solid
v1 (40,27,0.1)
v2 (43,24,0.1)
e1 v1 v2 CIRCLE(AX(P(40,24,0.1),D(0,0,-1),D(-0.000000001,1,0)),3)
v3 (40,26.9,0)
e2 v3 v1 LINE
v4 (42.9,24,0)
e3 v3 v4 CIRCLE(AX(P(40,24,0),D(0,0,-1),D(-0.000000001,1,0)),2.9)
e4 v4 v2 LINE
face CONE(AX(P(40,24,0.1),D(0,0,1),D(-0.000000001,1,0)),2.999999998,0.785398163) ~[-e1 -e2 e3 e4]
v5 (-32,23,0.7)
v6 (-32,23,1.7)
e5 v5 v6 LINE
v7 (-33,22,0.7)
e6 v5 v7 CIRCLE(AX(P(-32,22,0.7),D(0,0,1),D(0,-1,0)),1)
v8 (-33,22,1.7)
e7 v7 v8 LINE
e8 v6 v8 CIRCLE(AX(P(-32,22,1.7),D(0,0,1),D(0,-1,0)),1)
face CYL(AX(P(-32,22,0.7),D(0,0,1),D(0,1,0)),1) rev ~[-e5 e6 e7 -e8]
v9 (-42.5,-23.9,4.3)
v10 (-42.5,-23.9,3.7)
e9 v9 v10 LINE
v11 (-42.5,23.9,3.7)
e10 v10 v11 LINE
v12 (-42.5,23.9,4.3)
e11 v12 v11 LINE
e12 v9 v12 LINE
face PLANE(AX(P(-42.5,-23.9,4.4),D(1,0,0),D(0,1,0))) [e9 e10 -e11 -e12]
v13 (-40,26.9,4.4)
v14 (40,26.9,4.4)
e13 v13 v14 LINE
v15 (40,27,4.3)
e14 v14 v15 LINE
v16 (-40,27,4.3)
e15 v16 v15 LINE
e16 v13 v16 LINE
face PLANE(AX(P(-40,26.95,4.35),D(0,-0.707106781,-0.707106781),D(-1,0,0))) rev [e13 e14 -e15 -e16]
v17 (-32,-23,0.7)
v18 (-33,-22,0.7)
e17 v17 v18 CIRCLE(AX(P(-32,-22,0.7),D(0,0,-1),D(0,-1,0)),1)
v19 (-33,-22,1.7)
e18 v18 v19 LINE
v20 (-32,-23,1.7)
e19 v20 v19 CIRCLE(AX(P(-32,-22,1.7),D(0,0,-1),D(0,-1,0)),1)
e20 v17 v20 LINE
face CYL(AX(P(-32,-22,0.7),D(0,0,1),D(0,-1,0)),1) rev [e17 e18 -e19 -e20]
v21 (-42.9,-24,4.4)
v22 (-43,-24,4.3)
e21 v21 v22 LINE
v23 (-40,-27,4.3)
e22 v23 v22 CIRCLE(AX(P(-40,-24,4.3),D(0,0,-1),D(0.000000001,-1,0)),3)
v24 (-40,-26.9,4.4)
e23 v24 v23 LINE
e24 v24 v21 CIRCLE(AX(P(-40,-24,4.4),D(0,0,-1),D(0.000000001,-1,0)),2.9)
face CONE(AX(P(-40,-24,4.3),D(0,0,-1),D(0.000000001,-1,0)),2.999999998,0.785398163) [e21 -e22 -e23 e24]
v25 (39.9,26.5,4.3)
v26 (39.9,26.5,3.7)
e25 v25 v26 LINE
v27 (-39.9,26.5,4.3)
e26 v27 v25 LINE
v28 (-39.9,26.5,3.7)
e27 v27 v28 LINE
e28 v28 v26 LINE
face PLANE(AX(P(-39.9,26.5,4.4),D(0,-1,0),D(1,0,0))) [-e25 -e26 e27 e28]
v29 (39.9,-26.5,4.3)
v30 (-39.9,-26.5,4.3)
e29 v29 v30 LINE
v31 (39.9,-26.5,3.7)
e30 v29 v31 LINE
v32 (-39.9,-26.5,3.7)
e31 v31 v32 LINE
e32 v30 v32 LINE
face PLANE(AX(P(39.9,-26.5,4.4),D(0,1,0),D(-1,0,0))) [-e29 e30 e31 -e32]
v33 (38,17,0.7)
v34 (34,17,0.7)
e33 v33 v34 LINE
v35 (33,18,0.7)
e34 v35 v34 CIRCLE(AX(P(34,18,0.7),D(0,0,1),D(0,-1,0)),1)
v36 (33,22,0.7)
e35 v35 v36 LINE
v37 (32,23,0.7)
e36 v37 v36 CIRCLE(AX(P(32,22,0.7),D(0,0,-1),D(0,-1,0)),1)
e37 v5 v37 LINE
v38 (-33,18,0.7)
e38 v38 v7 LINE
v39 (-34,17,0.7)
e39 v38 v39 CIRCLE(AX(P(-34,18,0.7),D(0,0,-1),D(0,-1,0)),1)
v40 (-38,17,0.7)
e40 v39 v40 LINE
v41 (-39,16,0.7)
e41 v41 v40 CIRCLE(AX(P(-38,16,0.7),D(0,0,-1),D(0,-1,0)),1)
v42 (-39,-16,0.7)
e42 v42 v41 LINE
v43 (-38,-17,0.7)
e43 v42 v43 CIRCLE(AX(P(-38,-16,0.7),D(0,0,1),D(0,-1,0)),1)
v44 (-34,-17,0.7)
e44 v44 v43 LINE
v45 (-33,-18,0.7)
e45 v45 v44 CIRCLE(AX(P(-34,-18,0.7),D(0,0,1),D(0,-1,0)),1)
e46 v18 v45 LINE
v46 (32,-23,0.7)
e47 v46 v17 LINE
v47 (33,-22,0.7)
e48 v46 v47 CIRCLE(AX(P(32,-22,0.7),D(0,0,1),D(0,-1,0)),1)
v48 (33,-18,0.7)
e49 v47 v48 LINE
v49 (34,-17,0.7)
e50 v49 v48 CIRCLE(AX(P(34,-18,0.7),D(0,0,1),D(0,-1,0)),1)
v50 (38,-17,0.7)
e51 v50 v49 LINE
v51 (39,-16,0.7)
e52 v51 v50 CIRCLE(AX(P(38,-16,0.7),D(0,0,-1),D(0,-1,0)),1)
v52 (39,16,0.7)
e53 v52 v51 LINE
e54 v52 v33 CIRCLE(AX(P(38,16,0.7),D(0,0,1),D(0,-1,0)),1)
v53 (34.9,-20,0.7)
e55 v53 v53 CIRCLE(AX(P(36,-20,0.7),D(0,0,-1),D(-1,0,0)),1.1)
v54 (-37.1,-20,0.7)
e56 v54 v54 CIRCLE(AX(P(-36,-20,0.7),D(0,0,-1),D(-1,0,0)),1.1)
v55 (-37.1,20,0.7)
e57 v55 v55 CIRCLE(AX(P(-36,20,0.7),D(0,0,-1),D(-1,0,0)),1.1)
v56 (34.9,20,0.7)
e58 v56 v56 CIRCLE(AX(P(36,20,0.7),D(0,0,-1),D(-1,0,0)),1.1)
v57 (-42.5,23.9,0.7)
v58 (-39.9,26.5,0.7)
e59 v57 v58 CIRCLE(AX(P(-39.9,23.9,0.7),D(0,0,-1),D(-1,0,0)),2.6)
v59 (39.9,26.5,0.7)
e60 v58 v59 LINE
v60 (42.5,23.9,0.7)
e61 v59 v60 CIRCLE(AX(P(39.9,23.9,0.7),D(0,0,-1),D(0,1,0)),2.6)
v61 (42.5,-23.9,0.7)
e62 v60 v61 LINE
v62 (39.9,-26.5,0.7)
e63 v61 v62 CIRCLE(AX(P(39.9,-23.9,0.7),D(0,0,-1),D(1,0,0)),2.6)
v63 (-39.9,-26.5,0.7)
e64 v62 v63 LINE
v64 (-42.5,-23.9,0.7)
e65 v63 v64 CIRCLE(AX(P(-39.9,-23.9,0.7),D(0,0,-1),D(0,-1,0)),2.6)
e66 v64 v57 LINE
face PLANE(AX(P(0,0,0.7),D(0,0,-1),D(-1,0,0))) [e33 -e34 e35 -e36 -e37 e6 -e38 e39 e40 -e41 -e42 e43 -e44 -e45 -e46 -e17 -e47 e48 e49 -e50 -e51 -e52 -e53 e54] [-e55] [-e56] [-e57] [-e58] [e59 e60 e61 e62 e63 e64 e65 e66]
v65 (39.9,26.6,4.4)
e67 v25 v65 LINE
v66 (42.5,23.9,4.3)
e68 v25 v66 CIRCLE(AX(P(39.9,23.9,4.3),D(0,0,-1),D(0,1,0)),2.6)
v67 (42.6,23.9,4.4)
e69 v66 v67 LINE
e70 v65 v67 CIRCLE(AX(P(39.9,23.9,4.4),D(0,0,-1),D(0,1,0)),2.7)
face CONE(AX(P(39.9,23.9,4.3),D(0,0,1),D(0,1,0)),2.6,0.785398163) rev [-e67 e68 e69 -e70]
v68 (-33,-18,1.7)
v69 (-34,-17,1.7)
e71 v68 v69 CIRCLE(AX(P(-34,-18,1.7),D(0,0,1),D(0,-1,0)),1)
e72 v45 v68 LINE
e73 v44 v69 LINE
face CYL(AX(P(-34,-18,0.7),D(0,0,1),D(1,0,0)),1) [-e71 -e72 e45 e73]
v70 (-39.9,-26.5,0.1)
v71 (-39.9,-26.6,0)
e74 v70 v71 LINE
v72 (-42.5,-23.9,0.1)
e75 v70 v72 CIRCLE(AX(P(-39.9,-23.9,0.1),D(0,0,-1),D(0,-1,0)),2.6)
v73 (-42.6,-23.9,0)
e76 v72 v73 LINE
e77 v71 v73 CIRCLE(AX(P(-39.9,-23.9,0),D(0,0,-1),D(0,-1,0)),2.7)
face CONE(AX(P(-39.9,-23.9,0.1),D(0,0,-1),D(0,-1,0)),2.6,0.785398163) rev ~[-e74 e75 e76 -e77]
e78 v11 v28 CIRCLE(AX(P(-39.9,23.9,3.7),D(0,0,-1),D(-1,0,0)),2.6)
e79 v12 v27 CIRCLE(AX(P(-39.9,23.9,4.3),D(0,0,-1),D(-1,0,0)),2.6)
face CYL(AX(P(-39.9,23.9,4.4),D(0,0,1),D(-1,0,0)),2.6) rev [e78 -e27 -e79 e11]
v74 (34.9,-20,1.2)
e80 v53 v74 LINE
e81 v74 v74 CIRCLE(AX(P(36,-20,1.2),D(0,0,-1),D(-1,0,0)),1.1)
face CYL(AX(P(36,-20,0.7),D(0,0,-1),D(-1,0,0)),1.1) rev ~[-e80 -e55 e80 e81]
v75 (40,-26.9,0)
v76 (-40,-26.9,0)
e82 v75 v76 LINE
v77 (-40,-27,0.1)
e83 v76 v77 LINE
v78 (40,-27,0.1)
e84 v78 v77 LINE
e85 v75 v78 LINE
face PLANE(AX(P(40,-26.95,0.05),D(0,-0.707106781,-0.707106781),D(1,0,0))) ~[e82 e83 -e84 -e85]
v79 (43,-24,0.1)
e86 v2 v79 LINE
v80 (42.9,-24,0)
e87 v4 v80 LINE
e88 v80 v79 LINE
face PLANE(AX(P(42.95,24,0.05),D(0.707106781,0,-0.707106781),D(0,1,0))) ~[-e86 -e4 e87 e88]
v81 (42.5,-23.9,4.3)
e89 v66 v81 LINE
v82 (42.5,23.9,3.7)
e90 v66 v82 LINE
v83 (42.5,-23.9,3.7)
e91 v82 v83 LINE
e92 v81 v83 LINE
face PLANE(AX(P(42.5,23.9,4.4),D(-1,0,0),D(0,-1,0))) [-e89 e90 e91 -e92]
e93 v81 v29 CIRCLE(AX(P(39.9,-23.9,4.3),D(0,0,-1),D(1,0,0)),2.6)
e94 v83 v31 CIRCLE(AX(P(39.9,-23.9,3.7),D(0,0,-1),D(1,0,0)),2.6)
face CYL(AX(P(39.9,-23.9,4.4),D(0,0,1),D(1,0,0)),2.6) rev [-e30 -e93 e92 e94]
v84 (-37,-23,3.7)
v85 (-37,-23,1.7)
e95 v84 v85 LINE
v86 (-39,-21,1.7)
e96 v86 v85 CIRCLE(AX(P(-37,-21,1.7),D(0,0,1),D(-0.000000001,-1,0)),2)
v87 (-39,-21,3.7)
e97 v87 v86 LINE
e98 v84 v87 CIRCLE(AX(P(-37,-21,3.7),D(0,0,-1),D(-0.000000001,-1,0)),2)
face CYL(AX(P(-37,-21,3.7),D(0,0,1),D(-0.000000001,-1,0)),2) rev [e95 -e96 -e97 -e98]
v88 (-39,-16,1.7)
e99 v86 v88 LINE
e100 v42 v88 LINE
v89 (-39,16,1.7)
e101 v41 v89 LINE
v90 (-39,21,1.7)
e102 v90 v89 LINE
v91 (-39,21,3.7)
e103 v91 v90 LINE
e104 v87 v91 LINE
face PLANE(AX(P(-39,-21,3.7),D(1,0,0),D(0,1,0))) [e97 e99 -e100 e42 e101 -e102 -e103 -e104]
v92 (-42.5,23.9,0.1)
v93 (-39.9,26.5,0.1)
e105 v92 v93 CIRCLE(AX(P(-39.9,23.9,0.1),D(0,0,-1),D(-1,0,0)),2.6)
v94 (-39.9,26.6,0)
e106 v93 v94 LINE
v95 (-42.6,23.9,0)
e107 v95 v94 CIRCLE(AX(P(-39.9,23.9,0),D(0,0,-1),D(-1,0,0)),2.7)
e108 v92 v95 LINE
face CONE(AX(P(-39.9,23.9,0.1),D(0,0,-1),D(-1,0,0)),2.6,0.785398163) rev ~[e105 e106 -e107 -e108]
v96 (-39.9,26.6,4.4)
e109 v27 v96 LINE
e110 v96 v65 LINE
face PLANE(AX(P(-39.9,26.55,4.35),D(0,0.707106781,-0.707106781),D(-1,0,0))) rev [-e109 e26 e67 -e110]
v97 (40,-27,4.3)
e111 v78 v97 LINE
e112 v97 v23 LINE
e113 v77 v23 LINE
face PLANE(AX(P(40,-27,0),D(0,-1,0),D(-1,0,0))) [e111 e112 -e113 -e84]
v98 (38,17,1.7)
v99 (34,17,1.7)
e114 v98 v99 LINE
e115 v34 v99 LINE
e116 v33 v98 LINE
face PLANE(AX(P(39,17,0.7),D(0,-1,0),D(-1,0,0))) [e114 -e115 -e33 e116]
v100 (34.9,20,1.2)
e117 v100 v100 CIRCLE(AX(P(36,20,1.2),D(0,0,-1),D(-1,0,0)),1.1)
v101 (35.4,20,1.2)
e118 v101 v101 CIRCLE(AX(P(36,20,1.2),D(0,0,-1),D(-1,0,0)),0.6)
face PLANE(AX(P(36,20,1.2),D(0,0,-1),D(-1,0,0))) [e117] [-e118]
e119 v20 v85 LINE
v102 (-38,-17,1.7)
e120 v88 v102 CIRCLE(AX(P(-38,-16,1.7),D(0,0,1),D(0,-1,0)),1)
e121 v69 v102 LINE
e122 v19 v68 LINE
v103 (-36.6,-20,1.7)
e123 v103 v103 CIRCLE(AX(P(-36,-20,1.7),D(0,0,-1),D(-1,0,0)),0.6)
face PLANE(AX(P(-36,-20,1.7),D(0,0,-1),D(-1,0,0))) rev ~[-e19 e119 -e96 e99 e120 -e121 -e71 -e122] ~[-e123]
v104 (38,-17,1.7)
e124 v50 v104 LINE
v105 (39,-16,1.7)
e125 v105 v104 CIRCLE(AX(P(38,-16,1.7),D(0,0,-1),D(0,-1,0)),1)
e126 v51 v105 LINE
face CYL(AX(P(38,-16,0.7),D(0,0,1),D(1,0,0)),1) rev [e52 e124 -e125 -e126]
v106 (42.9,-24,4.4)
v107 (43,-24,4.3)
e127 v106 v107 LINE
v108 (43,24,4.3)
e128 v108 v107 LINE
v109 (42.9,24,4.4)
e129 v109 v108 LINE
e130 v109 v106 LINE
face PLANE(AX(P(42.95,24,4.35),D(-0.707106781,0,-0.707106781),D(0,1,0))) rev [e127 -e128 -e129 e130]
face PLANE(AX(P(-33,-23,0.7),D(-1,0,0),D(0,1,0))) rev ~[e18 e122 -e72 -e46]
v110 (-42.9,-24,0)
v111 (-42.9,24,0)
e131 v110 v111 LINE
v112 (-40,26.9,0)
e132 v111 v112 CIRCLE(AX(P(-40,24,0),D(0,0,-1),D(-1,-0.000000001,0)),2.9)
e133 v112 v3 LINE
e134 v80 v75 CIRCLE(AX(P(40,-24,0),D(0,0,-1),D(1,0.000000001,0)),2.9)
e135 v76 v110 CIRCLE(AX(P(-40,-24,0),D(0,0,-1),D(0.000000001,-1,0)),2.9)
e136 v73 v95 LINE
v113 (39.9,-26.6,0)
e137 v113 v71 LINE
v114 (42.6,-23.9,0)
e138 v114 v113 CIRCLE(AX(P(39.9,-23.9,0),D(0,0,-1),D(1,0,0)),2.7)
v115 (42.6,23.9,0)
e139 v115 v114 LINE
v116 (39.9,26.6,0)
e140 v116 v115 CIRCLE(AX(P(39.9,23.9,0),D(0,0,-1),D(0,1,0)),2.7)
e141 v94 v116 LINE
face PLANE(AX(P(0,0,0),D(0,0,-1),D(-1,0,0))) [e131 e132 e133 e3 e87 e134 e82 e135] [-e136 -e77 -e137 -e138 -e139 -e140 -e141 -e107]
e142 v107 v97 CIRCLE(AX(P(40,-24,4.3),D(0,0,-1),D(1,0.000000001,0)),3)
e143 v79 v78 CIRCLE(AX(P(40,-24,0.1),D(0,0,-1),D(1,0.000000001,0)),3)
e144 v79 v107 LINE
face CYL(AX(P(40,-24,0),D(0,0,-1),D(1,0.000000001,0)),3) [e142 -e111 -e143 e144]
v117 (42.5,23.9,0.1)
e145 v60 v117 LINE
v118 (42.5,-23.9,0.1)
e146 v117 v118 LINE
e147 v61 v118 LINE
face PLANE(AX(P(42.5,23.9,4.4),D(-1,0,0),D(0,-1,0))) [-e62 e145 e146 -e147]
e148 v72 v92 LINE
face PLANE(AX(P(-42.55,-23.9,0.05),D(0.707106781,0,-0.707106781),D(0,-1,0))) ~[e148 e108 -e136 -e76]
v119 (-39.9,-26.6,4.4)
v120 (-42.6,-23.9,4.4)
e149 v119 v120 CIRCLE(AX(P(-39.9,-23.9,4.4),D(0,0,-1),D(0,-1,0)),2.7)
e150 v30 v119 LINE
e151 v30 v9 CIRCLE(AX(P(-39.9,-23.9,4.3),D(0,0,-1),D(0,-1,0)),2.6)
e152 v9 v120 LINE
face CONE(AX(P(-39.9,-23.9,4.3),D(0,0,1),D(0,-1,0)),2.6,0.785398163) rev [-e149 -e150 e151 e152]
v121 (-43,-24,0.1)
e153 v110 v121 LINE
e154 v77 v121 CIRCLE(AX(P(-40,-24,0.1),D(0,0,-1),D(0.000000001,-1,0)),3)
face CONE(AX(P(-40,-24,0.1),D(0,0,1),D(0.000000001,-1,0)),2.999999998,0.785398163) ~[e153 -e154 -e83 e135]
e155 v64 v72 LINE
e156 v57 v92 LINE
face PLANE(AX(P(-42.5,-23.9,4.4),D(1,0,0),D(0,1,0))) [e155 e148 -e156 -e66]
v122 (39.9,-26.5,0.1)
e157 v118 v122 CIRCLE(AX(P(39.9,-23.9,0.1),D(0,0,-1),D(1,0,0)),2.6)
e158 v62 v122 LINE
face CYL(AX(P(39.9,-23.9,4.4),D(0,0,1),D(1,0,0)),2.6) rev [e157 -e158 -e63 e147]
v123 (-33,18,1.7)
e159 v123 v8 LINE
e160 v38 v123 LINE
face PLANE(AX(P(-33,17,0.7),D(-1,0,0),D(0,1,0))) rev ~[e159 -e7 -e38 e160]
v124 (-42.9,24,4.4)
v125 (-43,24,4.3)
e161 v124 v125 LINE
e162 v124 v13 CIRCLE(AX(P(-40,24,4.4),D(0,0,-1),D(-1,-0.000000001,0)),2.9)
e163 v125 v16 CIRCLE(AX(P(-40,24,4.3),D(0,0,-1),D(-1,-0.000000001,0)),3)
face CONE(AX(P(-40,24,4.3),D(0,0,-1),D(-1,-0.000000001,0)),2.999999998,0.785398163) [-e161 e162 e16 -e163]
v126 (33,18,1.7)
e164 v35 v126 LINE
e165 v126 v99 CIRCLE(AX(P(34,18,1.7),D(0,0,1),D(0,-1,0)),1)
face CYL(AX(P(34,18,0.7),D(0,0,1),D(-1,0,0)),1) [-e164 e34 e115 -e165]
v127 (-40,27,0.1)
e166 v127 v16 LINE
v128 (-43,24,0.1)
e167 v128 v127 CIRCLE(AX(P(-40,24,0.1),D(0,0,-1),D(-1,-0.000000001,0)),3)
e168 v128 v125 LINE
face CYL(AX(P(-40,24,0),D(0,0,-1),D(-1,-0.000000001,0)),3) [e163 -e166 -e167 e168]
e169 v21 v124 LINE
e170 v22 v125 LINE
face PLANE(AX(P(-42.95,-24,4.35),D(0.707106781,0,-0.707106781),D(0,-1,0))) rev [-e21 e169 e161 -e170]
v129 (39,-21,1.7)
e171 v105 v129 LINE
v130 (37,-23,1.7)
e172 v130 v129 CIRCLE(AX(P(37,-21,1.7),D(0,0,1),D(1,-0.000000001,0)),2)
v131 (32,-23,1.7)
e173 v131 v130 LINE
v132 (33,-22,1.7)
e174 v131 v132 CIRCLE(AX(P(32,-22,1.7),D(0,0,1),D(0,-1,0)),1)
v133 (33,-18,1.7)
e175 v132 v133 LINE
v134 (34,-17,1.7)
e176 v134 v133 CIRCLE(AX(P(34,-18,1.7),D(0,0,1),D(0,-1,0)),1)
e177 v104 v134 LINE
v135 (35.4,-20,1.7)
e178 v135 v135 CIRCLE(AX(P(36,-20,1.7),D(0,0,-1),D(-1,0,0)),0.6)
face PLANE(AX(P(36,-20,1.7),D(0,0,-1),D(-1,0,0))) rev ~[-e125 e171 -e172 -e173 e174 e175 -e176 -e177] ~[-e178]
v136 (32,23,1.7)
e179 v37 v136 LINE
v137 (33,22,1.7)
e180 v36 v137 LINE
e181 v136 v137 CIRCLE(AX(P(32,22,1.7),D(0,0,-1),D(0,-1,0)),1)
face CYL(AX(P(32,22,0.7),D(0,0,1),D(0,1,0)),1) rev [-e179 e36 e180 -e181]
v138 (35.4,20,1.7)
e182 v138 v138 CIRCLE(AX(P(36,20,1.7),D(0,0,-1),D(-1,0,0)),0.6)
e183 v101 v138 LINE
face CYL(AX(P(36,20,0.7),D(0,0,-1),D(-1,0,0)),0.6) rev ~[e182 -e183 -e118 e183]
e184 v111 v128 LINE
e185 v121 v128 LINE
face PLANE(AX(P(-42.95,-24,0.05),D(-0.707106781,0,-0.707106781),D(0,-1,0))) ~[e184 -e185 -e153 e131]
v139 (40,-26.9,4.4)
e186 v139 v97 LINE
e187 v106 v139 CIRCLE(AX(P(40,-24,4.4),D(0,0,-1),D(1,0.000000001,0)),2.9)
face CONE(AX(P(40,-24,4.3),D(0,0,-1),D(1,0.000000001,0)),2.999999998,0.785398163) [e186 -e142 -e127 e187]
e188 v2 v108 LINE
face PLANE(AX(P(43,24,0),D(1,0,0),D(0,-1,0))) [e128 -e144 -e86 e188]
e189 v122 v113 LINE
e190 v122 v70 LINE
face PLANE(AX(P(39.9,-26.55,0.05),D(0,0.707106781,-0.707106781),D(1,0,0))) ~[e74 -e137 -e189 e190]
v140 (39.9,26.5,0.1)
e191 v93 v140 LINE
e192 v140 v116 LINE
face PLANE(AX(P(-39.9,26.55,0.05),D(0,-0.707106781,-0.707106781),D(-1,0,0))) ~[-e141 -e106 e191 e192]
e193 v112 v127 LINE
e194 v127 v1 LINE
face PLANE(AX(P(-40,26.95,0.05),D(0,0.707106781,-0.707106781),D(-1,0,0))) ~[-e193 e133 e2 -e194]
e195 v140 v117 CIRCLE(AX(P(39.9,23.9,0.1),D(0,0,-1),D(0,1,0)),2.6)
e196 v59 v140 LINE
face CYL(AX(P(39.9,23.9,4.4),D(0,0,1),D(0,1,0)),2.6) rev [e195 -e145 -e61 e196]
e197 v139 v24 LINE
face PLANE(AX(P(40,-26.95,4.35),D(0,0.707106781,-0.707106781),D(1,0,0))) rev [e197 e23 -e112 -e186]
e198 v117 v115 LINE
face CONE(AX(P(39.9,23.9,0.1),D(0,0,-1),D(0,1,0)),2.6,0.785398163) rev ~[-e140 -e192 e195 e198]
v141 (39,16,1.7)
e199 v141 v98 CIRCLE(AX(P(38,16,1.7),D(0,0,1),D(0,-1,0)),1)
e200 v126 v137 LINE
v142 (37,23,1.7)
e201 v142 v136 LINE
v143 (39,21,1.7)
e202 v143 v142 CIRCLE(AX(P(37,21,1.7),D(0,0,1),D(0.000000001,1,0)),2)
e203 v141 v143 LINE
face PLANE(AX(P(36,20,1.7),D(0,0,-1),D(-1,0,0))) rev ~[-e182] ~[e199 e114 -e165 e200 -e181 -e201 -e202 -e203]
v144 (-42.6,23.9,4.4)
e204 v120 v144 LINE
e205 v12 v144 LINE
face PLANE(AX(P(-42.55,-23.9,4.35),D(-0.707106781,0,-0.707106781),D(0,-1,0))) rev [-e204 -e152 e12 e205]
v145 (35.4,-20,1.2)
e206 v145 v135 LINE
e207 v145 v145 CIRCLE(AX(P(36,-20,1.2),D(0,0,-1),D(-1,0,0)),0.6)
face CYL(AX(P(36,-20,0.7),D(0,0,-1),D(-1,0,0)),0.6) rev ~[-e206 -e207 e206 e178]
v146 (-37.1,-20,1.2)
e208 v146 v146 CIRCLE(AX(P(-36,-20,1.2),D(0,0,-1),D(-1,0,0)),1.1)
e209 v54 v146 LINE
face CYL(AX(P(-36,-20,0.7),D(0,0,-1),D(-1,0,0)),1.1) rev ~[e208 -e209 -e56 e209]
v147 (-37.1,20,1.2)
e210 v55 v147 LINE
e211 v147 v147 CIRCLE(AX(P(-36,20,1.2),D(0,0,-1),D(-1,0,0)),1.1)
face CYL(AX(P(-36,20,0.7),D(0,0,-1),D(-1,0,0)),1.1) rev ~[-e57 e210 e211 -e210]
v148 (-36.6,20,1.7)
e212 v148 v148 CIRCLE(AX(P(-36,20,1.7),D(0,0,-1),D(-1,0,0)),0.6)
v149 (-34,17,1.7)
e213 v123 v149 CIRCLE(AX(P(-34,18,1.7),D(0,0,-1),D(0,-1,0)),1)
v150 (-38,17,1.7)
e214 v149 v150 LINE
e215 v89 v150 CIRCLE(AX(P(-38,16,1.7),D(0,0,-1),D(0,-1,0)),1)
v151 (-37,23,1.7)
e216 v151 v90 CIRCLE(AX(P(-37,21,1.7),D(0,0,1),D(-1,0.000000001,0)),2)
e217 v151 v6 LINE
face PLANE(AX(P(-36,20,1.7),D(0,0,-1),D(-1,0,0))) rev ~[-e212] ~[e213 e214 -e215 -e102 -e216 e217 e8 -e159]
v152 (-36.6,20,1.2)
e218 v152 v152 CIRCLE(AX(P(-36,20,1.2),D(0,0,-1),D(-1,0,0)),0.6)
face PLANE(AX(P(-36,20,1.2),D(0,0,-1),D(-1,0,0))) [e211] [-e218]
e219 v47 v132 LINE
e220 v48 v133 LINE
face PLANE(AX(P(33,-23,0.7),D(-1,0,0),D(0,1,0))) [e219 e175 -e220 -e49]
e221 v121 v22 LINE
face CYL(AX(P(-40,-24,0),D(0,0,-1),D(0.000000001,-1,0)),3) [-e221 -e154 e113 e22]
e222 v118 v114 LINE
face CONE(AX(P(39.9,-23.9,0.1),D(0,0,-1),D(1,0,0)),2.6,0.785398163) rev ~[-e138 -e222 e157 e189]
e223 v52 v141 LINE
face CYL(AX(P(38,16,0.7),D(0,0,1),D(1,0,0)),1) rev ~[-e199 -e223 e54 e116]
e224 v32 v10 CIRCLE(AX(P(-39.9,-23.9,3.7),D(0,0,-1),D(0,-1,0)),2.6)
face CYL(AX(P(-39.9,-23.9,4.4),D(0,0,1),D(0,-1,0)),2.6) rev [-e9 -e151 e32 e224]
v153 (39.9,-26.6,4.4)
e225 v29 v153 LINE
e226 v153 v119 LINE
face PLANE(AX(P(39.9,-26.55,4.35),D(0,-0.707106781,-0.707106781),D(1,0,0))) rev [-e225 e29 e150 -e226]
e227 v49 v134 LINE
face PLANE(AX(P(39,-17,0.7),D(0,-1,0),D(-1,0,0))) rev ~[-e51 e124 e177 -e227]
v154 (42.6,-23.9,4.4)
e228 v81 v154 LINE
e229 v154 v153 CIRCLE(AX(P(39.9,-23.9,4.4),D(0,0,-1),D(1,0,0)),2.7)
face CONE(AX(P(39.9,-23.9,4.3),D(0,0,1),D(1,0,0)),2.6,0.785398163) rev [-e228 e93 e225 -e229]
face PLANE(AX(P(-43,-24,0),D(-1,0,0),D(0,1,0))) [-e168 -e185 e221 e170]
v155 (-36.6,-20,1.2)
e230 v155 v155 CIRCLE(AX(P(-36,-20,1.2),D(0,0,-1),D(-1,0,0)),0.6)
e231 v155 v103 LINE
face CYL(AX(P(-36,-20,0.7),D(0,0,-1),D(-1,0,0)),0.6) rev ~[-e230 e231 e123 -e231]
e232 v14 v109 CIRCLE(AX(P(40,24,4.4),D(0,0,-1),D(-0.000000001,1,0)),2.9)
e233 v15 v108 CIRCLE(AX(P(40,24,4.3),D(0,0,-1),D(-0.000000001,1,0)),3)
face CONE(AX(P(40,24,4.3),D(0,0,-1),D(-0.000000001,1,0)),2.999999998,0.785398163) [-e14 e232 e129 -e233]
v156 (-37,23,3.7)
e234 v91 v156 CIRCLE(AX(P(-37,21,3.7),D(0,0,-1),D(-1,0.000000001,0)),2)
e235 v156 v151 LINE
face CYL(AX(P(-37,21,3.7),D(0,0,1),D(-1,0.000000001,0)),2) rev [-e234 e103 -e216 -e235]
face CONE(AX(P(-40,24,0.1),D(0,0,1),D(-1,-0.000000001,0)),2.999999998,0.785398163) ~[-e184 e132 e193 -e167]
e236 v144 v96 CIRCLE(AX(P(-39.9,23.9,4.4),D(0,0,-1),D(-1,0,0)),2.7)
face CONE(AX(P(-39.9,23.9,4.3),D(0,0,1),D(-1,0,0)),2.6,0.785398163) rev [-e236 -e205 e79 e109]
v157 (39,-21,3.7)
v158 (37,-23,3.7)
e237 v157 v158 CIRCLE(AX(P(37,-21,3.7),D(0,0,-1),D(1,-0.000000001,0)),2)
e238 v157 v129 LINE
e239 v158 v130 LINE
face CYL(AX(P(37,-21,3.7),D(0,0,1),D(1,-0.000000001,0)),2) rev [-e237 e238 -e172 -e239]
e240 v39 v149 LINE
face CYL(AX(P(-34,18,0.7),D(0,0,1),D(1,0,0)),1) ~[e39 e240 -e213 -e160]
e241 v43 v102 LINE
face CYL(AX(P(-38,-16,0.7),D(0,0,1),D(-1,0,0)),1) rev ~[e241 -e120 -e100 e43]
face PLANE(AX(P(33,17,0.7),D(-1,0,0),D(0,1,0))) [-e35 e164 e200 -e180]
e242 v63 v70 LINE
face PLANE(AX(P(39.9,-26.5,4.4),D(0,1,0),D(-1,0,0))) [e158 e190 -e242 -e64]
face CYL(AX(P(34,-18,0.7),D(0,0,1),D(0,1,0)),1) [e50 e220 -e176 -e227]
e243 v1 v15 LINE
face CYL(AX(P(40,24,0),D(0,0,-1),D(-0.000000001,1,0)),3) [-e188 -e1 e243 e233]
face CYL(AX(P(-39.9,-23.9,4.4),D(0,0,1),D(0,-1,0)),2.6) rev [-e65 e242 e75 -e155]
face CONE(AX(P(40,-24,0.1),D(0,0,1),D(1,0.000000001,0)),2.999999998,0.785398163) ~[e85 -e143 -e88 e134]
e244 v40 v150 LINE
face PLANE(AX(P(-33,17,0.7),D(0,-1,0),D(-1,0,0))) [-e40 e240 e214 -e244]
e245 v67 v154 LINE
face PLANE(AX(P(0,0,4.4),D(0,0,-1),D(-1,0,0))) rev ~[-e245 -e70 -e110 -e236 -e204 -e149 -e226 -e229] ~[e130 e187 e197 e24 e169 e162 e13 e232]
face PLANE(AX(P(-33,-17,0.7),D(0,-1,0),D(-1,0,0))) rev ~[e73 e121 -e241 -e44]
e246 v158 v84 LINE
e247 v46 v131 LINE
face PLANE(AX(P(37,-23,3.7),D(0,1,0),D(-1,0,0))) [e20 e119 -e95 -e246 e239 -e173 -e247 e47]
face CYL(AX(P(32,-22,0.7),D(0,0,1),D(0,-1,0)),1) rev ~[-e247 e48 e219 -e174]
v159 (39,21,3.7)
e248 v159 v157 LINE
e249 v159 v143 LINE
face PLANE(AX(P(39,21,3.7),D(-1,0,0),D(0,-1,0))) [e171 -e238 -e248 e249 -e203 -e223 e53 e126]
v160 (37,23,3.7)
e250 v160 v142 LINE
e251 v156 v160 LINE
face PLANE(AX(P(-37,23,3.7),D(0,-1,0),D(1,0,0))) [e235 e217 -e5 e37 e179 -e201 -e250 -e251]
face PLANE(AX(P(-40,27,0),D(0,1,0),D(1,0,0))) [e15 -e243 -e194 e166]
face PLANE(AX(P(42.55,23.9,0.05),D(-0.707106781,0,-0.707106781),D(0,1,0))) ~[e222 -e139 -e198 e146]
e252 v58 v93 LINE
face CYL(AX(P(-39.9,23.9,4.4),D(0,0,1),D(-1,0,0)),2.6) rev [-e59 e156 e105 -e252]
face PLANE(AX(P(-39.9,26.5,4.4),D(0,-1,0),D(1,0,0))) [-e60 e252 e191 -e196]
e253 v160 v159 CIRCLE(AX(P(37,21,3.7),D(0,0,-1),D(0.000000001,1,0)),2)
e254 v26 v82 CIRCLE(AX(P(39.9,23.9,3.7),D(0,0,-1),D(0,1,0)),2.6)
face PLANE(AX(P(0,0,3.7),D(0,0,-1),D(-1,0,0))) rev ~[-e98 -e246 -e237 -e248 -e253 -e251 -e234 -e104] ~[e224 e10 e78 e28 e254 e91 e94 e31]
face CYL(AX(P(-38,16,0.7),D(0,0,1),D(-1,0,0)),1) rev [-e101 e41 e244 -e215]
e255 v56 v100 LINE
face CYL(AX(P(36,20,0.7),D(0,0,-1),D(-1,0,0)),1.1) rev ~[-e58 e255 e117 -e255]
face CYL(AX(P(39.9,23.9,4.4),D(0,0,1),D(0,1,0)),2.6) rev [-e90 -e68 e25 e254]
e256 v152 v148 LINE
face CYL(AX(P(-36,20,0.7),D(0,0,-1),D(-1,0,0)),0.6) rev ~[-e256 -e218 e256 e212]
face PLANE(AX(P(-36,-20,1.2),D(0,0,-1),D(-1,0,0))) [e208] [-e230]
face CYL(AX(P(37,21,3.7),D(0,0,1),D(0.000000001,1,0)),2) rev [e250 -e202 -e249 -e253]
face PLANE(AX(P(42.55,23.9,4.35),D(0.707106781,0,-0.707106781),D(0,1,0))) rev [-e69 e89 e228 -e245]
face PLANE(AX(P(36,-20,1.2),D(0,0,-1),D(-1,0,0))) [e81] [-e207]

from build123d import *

# Parameters (mm, degrees)
EXTRUDE_1_DEPTH     = 4.4
CUT_EXTRUDE_1_DEPTH = 4.4
EXTRUDE_START       = -0.7
EXTRUDE_2_DEPTH     = 3
CUT_EXTRUDE_2_DEPTH = 3
SKETCH_7_W          = 6
SKETCH_7_H          = 6
EXTRUDE_4_DEPTH     = 1
FILLET_1_R          = 1
SKETCH_8_R          = 0.6
CUT_EXTRUDE_3_DEPTH = 1
CHAMFER_1_SIZE      = 0.1
SKETCH_9_R          = 1.1
CUT_EXTRUDE_4_DEPTH = 0.5


with BuildPart() as part:
    # Эскиз1 → Бобышка-Вытянуть1 (new body)
    with BuildSketch(Plane.XY):
        with BuildLine():
            Line((-40, 27), (40, 27))
            ThreePointArc((40, 27), (42.121320344, 26.121320344), (43, 24))
            Line((43, 24), (43, -24))
            ThreePointArc((43, -24), (42.121320344, -26.121320344), (40, -27))
            Line((40, -27), (-40, -27))
            ThreePointArc((-40, -27), (-42.121320344, -26.121320344), (-43, -24))
            Line((-43, -24), (-43, 24))
            ThreePointArc((-43, 24), (-42.121320344, 26.121320344), (-40, 27))
        make_face()
    extrude(amount=EXTRUDE_1_DEPTH)

    # Эскиз2 → Вырез-Вытянуть1 (cut)
    with BuildSketch(Plane.XY.offset(4.4)):
        with BuildLine():
            Line((-39.9, 26.5), (39.9, 26.5))
            ThreePointArc((39.9, 26.5), (41.738477631, 25.738477631), (42.5, 23.9))
            Line((42.5, 23.9), (42.5, -23.9))
            ThreePointArc((42.5, -23.9), (41.738477631, -25.738477631), (39.9, -26.5))
            Line((39.9, -26.5), (-39.9, -26.5))
            ThreePointArc((-39.9, -26.5), (-41.738477631, -25.738477631), (-42.5, -23.9))
            Line((-42.5, -23.9), (-42.5, 23.9))
            ThreePointArc((-42.5, 23.9), (-41.738477631, 25.738477631), (-39.9, 26.5))
        make_face()
    extrude(amount=-CUT_EXTRUDE_1_DEPTH, mode=Mode.SUBTRACT)

    # Эскиз4 → Бобышка-Вытянуть2 (add)
    with BuildSketch(Plane.XY.offset(4.4).offset(EXTRUDE_START)):
        with BuildLine():
            Line((-39.9, 26.5), (39.9, 26.5))
            ThreePointArc((39.9, 26.5), (41.738477631, 25.738477631), (42.5, 23.9))
            Line((42.5, 23.9), (42.5, -23.9))
            ThreePointArc((42.5, -23.9), (41.738477631, -25.738477631), (39.9, -26.5))
            Line((39.9, -26.5), (-39.9, -26.5))
            ThreePointArc((-39.9, -26.5), (-41.738477631, -25.738477631), (-42.5, -23.9))
            Line((-42.5, -23.9), (-42.5, 23.9))
            ThreePointArc((-42.5, 23.9), (-41.738477631, 25.738477631), (-39.9, 26.5))
        make_face()
    extrude(amount=-EXTRUDE_2_DEPTH)

    # Эскиз5 → Вырез-Вытянуть2 (cut)
    with BuildSketch(Plane.XY.offset(3.7)):
        with BuildLine():
            Line((-37, 23), (37, 23))
            ThreePointArc((37, 23), (38.414213562, 22.414213562), (39, 21))
            Line((39, 21), (39, -21))
            ThreePointArc((39, -21), (38.414213562, -22.414213562), (37, -23))
            Line((37, -23), (-37, -23))
            ThreePointArc((-37, -23), (-38.414213562, -22.414213562), (-39, -21))
            Line((-39, -21), (-39, 21))
            ThreePointArc((-39, 21), (-38.414213562, 22.414213562), (-37, 23))
        make_face()
    extrude(amount=-CUT_EXTRUDE_2_DEPTH, mode=Mode.SUBTRACT)

    # Эскиз7 → Бобышка-Вытянуть4 (add)
    with BuildSketch(Plane(origin=(0, 0, 0.7), x_dir=(-1, 0, 0), z_dir=(0, 0, -1))):
        with Locations((-36, 20)):
            Rectangle(SKETCH_7_W, SKETCH_7_H)
        with Locations((36, 20)):
            Rectangle(SKETCH_7_W, SKETCH_7_H)
        with Locations((36, -20)):
            Rectangle(SKETCH_7_W, SKETCH_7_H)
        with Locations((-36, -20)):
            Rectangle(SKETCH_7_W, SKETCH_7_H)
    extrude(amount=-EXTRUDE_4_DEPTH)

    # Скругление1
    fillet_1_edges = [part.edges().sort_by_distance(p)[0] for p in [
        (39, 17, 1.2),
        (33, 23, 1.2),
        (33, 17, 1.2),
        (-39, -17, 1.2),
        (-33, -23, 1.2),
        (-33, -17, 1.2),
        (-33, 23, 1.2),
        (-39, 17, 1.2),
        (-33, 17, 1.2),
        (33, -23, 1.2),
        (39, -17, 1.2),
        (33, -17, 1.2),
    ]]
    fillet(fillet_1_edges, radius=FILLET_1_R)

    # Эскиз8 → Вырез-Вытянуть3 (cut)
    with BuildSketch(Plane(origin=(0, 0, 0.7), x_dir=(-1, 0, 0), z_dir=(0, 0, -1))):
        with Locations((-36, 20)):
            Circle(SKETCH_8_R)
        with Locations((36, 20)):
            Circle(SKETCH_8_R)
        with Locations((36, -20)):
            Circle(SKETCH_8_R)
        with Locations((-36, -20)):
            Circle(SKETCH_8_R)
    extrude(amount=-CUT_EXTRUDE_3_DEPTH, mode=Mode.SUBTRACT)

    # Фаска1
    chamfer_1_edges = [part.edges().sort_by_distance(p)[0] for p in [
        (43, 0, 0),
        (42.121320344, -26.121320344, 0),
        (0, -27, 0),
        (-42.121320344, -26.121320344, 0),
        (42.121320344, -26.121320344, 4.4),
        (43, 0, 4.4),
        (42.121320344, 26.121320344, 4.4),
        (0, 27, 4.4),
        (-42.121320344, 26.121320344, 4.4),
        (-43, 0, 4.4),
        (-41.738477631, 25.738477631, 0),
        (0, 26.5, 0),
        (41.738477631, 25.738477631, 0),
        (42.5, 0, 0),
        (41.738477631, -25.738477631, 0),
        (0, -26.5, 0),
        (-41.738477631, -25.738477631, 0),
        (-42.5, 0, 0),
        (-41.738477631, 25.738477631, 4.4),
        (-42.5, 0, 4.4),
        (-41.738477631, -25.738477631, 4.4),
        (0, -26.5, 4.4),
        (41.738477631, -25.738477631, 4.4),
        (42.5, 0, 4.4),
        (41.738477631, 25.738477631, 4.4),
        (0, 26.5, 4.4),
        (-42.121320344, -26.121320344, 4.4),
        (-43, 0, 0),
        (0, -27, 4.4),
        (-42.121320344, 26.121320344, 0),
        (0, 27, 0),
        (42.121320344, 26.121320344, 0),
    ]]
    chamfer(chamfer_1_edges, length=CHAMFER_1_SIZE)

    # Эскиз9 → Вырез-Вытянуть4 (cut)
    with BuildSketch(Plane(origin=(0, 0, 0.7), x_dir=(-1, 0, 0), z_dir=(0, 0, -1))):
        with Locations((36, 20)):
            Circle(SKETCH_9_R)
        with Locations((36, -20)):
            Circle(SKETCH_9_R)
        with Locations((-36, -20)):
            Circle(SKETCH_9_R)
        with Locations((-36, 20)):
            Circle(SKETCH_9_R)
    extrude(amount=-CUT_EXTRUDE_4_DEPTH, mode=Mode.SUBTRACT)


solid = part.part
